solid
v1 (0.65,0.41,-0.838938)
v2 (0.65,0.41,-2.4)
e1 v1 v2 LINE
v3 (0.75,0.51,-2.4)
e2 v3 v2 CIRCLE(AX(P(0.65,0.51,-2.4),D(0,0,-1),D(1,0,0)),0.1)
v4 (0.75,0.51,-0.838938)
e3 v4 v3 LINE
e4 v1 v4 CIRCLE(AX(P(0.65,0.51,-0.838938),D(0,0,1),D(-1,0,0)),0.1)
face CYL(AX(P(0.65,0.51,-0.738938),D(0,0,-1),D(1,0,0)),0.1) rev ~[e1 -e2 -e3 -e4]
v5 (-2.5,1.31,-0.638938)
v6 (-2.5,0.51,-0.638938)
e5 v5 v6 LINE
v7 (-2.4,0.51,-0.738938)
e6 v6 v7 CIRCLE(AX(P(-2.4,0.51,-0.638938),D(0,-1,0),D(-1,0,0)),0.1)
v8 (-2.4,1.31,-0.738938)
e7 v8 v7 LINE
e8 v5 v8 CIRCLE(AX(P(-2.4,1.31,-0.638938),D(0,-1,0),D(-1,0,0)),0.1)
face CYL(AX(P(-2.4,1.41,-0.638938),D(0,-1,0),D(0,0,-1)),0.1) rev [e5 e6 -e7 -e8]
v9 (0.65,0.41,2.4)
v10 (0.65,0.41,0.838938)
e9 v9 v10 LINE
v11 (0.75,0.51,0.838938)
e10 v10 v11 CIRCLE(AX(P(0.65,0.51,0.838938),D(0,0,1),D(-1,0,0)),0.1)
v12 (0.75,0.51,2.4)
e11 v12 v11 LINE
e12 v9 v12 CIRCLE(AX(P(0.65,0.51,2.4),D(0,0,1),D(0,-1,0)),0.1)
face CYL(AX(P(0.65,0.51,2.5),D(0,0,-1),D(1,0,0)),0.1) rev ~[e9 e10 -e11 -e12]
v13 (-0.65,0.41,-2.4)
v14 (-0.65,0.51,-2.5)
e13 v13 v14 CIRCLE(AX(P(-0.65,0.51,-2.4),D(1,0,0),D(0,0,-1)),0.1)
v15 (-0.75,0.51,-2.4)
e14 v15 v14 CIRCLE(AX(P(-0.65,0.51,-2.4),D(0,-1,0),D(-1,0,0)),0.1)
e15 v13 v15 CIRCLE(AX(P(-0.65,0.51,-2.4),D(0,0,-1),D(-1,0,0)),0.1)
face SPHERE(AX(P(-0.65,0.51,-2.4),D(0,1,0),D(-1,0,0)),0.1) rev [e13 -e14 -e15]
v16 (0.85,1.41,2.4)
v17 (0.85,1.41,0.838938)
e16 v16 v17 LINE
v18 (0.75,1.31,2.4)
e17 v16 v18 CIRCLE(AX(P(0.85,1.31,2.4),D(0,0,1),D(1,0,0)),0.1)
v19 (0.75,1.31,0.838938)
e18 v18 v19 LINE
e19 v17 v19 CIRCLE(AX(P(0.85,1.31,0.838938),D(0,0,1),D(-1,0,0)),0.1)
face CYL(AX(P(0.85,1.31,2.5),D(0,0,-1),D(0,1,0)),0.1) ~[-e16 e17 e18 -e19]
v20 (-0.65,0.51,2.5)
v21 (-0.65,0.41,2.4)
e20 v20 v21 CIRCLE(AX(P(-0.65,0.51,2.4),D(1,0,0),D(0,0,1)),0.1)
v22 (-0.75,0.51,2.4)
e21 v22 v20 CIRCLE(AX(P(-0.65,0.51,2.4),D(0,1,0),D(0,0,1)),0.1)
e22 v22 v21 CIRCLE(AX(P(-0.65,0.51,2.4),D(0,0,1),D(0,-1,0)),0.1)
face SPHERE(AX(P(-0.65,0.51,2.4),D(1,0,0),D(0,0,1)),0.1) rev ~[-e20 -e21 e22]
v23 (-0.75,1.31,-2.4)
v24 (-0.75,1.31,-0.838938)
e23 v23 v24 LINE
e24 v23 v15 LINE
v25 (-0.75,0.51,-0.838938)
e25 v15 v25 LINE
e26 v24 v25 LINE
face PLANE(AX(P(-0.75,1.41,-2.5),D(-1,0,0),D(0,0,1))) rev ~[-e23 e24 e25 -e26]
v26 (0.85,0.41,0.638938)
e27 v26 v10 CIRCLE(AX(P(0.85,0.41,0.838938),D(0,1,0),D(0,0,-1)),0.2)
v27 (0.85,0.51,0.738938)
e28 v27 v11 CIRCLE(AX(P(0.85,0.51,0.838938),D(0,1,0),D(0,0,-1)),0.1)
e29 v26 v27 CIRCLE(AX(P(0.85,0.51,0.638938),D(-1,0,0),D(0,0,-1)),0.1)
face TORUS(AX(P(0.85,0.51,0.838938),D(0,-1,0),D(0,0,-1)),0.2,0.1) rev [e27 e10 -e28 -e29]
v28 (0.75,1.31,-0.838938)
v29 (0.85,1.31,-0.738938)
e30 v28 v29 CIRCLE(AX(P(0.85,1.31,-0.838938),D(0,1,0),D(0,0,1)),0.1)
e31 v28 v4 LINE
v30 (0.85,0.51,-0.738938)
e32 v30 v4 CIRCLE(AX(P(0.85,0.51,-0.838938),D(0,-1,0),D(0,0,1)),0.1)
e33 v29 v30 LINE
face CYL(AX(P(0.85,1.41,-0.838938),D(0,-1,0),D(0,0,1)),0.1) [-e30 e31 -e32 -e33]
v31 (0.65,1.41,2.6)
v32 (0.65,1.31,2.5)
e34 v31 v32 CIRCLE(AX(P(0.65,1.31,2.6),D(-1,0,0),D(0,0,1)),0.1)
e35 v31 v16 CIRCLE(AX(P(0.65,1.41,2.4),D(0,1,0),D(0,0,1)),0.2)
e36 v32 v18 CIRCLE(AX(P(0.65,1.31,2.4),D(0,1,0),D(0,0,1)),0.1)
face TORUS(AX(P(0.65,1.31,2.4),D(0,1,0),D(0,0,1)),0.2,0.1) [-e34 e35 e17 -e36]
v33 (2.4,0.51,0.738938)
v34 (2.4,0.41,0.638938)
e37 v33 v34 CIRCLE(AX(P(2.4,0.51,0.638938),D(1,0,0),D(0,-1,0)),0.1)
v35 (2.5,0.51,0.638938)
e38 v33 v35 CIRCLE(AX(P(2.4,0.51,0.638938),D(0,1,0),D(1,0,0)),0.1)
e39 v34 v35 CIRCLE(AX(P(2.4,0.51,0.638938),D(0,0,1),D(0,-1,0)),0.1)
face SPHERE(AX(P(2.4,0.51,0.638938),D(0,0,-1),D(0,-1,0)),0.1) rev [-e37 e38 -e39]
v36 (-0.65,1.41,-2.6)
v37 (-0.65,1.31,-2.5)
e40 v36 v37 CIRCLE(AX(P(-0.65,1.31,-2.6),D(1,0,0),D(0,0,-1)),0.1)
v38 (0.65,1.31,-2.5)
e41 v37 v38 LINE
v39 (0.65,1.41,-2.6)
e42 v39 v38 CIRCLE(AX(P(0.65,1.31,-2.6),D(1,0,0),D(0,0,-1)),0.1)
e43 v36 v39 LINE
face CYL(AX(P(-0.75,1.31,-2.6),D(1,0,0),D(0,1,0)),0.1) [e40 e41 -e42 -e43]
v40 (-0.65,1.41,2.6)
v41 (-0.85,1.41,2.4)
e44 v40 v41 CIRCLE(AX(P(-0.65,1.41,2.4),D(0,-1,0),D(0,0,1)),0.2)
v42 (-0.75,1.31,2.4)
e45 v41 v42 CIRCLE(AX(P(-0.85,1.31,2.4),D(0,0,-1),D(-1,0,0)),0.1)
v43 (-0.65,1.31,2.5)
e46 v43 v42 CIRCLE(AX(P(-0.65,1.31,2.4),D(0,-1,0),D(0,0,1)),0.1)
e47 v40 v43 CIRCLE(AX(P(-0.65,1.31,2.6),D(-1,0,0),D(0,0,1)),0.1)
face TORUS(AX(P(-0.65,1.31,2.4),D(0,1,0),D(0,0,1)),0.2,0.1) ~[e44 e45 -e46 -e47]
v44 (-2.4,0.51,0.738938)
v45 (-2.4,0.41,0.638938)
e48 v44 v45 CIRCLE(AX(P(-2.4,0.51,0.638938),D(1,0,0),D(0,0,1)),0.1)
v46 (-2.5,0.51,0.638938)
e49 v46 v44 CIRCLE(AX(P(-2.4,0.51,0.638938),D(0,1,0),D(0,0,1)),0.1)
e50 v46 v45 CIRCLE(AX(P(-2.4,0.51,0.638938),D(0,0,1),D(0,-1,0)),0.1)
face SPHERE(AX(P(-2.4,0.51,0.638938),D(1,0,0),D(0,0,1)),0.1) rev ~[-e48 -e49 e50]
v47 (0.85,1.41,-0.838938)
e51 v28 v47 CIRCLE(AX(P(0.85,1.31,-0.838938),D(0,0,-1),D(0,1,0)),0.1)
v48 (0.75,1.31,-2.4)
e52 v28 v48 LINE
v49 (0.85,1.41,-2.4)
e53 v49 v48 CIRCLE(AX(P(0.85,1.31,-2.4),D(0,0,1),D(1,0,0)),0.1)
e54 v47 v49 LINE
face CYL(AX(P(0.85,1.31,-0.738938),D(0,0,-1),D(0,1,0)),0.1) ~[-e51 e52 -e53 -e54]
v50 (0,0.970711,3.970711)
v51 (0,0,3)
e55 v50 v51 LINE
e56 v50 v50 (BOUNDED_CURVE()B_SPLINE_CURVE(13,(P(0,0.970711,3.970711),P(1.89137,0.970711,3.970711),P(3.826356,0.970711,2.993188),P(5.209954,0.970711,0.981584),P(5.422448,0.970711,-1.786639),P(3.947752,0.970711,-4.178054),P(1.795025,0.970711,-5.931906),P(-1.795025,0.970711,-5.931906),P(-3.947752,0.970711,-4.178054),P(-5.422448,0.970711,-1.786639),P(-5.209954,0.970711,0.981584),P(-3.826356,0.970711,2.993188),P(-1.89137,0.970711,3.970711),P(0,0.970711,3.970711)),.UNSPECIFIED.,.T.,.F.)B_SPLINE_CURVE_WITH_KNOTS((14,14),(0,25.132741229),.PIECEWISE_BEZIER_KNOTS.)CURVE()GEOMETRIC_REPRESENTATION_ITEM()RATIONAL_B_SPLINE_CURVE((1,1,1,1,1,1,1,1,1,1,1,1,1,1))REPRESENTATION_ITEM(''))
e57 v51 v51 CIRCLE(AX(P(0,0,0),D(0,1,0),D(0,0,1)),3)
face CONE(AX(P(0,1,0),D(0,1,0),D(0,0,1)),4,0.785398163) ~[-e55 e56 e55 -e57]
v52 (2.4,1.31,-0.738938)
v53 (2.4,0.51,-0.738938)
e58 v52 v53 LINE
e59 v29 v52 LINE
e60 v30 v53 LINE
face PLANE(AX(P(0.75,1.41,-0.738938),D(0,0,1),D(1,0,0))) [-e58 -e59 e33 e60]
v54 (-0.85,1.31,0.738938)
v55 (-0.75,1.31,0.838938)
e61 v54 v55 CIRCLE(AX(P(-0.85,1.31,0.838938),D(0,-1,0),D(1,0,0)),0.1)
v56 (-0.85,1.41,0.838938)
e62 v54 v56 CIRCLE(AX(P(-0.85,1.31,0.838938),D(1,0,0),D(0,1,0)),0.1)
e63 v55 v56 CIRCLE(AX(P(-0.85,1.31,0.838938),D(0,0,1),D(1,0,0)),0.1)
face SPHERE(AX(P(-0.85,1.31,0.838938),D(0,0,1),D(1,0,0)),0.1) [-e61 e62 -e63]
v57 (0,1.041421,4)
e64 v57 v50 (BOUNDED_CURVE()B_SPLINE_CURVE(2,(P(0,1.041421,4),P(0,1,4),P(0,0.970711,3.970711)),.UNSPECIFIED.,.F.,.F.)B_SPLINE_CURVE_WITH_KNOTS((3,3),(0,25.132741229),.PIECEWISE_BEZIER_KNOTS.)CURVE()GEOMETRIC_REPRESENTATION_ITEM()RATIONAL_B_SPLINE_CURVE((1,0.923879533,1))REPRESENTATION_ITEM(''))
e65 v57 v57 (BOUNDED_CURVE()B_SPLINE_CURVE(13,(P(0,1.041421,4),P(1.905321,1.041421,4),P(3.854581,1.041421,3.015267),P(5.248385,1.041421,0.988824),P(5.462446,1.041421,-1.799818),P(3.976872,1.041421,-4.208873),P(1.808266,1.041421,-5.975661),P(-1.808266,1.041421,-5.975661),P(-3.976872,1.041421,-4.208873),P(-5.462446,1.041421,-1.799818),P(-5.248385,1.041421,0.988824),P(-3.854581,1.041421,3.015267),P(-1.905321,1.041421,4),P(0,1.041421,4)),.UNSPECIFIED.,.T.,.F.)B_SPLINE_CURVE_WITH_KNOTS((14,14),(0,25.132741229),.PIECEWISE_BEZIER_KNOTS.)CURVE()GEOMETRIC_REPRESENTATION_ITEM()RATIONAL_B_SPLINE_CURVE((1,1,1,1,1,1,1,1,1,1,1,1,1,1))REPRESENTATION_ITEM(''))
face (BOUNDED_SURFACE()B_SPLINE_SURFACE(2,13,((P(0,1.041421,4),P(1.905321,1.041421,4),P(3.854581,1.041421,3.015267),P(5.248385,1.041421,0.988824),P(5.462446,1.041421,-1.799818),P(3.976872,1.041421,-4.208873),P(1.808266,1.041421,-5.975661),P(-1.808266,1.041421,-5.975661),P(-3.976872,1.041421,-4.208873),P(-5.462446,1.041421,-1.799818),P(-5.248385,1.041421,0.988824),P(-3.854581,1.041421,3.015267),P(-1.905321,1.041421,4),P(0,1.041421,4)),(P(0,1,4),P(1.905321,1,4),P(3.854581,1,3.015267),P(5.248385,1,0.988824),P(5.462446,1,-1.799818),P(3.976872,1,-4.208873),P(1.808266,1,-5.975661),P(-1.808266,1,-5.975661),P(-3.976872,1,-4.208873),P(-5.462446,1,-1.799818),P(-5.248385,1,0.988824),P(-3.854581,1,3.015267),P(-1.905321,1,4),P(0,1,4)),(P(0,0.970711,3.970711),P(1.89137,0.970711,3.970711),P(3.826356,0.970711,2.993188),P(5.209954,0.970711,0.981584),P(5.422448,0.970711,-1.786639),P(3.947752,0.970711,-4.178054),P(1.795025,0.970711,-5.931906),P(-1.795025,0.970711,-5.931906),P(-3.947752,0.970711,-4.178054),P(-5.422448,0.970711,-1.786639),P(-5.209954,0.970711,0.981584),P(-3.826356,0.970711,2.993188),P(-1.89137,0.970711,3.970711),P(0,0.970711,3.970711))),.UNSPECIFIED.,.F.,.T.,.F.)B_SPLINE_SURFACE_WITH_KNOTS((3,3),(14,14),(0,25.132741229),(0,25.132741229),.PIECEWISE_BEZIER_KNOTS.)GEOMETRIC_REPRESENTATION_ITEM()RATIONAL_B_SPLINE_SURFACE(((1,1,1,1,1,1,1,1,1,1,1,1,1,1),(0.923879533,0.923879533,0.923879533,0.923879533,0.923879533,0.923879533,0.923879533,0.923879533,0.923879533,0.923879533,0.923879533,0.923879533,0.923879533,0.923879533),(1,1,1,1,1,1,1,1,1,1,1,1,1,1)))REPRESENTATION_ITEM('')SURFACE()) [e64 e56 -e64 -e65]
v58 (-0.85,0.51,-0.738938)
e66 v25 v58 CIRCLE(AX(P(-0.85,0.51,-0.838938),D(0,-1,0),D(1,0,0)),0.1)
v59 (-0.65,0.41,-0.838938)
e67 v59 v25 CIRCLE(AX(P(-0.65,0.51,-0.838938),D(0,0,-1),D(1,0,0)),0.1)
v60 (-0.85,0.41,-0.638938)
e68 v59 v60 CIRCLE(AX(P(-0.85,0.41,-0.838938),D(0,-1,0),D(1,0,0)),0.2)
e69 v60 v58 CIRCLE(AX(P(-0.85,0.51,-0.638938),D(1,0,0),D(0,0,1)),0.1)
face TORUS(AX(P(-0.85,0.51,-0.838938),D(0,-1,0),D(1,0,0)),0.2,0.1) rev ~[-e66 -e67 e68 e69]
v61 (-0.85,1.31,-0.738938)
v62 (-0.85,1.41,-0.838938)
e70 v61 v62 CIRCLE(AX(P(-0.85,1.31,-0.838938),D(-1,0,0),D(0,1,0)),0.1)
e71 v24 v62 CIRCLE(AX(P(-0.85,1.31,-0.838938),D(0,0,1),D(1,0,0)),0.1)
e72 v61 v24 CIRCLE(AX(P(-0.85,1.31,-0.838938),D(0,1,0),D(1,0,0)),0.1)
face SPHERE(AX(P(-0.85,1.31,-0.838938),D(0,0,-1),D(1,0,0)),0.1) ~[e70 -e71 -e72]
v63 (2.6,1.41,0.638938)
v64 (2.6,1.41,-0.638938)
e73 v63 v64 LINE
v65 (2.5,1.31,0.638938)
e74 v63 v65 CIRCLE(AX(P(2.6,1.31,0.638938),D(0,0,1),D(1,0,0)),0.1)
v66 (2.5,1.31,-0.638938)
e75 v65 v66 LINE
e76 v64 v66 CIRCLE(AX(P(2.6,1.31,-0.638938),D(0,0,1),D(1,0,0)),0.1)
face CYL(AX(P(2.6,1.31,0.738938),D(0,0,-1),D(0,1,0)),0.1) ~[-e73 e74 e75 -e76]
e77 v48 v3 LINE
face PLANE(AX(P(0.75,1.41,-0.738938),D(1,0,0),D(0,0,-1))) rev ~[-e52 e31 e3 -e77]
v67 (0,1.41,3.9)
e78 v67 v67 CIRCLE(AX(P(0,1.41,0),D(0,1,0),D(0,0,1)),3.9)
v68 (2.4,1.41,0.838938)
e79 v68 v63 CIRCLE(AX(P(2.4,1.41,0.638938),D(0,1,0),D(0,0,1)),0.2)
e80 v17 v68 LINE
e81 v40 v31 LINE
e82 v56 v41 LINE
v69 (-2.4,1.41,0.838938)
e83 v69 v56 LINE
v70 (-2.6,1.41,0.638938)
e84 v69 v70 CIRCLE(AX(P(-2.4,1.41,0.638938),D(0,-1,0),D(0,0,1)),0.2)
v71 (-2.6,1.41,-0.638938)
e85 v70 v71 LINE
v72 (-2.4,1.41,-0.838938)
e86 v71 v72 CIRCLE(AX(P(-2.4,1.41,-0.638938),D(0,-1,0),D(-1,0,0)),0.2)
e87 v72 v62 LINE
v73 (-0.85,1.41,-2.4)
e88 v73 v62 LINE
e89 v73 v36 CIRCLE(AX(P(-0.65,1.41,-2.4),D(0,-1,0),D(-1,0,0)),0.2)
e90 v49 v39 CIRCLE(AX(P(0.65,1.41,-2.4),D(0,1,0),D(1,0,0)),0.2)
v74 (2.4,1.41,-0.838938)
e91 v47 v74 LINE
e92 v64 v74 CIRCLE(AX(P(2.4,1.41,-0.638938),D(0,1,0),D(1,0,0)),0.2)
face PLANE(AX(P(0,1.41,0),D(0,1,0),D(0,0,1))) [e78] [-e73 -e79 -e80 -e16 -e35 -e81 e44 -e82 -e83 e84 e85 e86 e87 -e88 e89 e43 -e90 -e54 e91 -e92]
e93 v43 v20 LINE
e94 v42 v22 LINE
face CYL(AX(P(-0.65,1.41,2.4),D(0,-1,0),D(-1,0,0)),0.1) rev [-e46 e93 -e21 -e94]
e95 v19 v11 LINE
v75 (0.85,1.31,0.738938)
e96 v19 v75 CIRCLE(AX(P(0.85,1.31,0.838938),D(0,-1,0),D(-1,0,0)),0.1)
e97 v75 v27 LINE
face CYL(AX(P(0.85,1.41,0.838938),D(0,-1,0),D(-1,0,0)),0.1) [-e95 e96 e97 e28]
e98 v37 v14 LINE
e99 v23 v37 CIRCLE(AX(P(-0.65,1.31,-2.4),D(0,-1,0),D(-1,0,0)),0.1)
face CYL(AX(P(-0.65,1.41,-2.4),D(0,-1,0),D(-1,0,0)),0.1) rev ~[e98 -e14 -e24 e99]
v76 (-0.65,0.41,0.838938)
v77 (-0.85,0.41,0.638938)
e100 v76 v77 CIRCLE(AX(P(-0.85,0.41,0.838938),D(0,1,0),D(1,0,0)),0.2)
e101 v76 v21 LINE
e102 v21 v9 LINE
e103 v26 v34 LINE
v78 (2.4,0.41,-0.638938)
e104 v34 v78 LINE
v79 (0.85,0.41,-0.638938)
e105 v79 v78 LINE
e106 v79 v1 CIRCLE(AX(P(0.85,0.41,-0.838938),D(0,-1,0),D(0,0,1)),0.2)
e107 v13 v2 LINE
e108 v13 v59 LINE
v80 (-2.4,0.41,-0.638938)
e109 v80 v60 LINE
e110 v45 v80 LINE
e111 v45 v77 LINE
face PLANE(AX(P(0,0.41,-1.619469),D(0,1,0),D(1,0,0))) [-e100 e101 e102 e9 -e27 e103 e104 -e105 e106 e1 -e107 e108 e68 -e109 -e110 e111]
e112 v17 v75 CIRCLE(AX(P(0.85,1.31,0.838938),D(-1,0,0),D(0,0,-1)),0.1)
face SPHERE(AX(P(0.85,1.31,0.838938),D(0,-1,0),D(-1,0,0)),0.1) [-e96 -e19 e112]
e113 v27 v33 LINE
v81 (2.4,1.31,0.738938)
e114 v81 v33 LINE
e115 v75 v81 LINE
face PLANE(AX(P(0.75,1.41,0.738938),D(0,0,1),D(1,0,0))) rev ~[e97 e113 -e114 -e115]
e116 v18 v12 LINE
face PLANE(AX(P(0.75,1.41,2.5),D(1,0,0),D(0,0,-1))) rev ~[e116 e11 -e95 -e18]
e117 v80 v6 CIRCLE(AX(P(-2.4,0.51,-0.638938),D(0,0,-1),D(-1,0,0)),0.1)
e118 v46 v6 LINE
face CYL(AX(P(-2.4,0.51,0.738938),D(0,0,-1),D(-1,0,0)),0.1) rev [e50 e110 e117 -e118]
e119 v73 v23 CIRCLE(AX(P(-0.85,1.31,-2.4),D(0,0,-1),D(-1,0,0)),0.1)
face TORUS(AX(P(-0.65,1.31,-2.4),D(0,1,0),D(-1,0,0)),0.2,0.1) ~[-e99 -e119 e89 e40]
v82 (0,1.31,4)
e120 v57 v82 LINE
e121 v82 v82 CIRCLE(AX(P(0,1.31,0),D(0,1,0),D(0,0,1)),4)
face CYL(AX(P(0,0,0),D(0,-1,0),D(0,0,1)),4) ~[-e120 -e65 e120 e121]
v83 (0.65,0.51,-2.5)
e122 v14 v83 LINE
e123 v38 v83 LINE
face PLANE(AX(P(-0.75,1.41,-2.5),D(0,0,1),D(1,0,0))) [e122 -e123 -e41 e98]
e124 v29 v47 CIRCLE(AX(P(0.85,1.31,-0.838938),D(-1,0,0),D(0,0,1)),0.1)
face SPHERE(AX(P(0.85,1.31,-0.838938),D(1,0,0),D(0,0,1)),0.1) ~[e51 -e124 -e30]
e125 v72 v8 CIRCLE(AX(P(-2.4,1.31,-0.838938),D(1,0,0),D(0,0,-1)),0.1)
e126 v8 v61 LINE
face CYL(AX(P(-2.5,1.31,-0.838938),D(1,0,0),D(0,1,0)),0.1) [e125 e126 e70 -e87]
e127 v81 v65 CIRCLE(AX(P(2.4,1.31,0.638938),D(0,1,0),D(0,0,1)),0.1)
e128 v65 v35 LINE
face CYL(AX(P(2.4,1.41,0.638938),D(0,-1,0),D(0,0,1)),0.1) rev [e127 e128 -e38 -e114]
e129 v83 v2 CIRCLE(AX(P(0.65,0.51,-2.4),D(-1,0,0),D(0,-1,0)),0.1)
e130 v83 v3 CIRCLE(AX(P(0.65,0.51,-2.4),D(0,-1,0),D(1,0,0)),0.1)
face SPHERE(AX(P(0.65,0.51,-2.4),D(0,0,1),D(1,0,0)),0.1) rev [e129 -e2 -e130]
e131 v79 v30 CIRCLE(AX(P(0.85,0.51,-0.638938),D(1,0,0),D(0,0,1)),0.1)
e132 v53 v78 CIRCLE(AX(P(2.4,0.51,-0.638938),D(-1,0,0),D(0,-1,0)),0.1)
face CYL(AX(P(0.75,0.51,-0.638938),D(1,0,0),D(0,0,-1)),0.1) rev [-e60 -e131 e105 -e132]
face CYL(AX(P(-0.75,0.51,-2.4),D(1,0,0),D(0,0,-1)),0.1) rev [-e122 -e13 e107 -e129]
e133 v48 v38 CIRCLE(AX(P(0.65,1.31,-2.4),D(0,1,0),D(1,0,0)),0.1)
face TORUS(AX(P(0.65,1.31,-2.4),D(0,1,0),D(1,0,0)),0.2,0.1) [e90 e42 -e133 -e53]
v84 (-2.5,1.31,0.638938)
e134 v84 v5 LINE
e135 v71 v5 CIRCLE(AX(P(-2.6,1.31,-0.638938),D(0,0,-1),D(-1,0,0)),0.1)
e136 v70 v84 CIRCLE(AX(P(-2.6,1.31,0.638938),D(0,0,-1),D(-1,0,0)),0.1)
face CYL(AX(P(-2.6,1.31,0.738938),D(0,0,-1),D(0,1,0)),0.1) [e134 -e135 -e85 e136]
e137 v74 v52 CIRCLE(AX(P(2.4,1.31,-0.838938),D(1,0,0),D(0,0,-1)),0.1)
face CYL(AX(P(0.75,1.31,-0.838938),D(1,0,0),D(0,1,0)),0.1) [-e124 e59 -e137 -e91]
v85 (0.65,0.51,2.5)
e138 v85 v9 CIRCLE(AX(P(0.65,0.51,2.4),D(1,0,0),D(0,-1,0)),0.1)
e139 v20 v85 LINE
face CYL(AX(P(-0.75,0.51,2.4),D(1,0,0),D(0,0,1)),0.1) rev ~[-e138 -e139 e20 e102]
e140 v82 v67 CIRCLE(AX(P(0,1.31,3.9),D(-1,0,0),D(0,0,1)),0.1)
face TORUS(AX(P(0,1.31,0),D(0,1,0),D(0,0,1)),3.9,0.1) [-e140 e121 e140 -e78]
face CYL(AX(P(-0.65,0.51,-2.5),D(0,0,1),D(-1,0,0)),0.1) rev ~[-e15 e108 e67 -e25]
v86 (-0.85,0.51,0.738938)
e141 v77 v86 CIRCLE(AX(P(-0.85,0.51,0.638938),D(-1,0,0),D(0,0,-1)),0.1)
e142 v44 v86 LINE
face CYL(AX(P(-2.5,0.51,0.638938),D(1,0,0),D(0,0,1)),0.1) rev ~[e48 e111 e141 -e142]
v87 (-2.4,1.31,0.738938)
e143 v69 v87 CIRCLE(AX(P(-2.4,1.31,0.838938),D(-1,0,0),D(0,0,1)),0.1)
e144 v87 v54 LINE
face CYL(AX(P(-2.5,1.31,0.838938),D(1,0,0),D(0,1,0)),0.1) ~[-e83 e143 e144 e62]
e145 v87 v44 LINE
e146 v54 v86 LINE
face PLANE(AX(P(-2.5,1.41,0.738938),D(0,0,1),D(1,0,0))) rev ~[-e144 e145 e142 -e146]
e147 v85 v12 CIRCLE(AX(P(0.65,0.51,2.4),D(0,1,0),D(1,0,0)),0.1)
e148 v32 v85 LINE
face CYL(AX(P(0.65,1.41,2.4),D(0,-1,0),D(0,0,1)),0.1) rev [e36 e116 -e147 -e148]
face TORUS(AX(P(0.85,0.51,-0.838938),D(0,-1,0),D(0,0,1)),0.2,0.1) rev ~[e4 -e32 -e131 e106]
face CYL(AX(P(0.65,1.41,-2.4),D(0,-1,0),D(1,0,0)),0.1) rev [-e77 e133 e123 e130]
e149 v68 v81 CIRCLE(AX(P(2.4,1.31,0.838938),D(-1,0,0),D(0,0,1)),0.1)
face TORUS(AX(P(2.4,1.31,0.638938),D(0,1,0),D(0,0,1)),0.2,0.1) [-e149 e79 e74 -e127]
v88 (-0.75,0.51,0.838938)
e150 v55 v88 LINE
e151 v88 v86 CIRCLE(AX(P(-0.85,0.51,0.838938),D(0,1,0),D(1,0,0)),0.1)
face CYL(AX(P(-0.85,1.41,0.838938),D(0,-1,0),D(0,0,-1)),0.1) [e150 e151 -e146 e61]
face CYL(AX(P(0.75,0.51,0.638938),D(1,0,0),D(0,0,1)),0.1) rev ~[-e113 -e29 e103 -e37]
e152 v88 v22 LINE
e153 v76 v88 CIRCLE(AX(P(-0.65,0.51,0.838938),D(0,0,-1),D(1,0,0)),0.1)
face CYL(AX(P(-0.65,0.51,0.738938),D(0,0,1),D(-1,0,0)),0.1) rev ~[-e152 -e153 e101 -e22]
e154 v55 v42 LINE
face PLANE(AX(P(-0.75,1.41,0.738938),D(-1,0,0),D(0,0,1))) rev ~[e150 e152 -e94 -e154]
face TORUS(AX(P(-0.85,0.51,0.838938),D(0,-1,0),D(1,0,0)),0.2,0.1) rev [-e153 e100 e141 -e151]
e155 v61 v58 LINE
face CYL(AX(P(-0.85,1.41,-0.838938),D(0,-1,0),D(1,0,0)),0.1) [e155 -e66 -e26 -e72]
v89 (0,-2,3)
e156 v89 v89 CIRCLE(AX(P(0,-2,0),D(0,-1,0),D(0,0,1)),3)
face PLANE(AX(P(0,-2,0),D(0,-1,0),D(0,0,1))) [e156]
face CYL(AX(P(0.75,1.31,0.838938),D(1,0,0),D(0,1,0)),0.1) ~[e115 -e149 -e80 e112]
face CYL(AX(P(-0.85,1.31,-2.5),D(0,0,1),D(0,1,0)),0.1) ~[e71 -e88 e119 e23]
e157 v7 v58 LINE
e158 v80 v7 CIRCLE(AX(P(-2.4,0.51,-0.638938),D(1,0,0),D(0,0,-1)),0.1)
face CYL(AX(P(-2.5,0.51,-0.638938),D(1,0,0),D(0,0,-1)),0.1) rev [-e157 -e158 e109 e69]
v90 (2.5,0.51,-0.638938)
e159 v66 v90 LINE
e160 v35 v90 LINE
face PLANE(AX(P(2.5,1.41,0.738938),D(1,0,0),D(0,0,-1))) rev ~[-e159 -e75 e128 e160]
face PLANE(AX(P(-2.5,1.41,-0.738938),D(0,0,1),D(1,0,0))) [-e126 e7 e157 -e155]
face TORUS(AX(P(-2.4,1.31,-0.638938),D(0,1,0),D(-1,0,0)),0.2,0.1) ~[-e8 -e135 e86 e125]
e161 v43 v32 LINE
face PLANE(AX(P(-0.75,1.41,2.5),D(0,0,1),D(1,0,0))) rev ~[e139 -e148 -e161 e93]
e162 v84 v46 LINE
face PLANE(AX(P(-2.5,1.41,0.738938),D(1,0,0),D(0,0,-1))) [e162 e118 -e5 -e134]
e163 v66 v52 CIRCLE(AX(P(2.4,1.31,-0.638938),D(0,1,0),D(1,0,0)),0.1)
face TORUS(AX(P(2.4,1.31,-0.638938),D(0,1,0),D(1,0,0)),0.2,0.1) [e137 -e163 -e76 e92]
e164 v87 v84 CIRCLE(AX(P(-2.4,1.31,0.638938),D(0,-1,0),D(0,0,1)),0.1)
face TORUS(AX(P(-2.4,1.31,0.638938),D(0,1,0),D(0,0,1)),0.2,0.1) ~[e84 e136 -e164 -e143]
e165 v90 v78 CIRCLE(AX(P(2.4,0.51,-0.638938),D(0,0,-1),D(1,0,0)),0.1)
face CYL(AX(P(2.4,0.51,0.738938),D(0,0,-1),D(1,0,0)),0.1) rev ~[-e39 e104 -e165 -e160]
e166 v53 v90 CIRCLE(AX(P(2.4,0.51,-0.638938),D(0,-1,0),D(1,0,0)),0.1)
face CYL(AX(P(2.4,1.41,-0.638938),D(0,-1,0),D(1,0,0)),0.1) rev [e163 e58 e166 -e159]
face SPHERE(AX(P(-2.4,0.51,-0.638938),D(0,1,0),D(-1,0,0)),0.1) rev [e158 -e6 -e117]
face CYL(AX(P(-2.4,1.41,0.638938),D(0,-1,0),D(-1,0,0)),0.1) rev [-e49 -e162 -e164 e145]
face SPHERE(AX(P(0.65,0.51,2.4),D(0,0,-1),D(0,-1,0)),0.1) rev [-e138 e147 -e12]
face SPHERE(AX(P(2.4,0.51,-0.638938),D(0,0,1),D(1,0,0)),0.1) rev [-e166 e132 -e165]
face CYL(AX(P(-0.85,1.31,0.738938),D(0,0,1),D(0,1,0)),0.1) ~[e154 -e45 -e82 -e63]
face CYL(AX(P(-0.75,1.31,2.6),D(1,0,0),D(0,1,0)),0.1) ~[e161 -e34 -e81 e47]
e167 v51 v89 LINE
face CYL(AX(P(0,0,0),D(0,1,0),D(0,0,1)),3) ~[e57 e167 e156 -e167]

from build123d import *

# Parameters (mm, degrees)
SKETCH1_R           = 4
BOSS_EXTRUDE1_DEPTH = 1.41
CHAMFER2_SIZE       = 1
SKETCH2_R           = 3
BOSS_EXTRUDE2_DEPTH = 2
SKETCH4_W           = 1.5
SKETCH4_H           = 1.761062171
SKETCH4_H_2         = 1.477875658
SKETCH4_W_2         = 1.75
CUT_EXTRUDE1_DEPTH  = 1
FILLET2_R           = 0.1
FILLET3_R           = 0.1


with BuildPart() as part:
    # Sketch1 → Boss-Extrude1 (new body)
    with BuildSketch(Plane(origin=(0, 0, 0), x_dir=(1, 0, 0), z_dir=(0, 1, 0))):
        with Locations(Location((0, 0, 0), (0, 0, 270))):
            Circle(SKETCH1_R)
    extrude(amount=BOSS_EXTRUDE1_DEPTH)

    # Chamfer2
    chamfer2_edges = [part.edges().sort_by_distance(p)[0] for p in [
        (0, 0, -4),
    ]]
    chamfer(chamfer2_edges, length=CHAMFER2_SIZE)

    # Sketch2 → Boss-Extrude2 (add)
    with BuildSketch(Plane.XZ):
        with Locations(Location((0, 0, 0), (0, 0, 90))):
            Circle(SKETCH2_R)
    extrude(amount=BOSS_EXTRUDE2_DEPTH)

    # Sketch4 → Cut-Extrude1 (cut)
    with BuildSketch(Plane(origin=(0, 1.41, 0), x_dir=(1, 0, 0), z_dir=(0, 1, 0))):
        with Locations((0, 1.619468915)):
            Rectangle(SKETCH4_W, SKETCH4_H)
        Rectangle(SKETCH4_W, SKETCH4_H_2)
        with Locations((0, -1.619468915)):
            Rectangle(SKETCH4_W, SKETCH4_H)
        with Locations((-1.625, 0)):
            Rectangle(SKETCH4_W_2, SKETCH4_H_2)
        with Locations((1.625, 0)):
            Rectangle(SKETCH4_W_2, SKETCH4_H_2)
    extrude(amount=-CUT_EXTRUDE1_DEPTH, mode=Mode.SUBTRACT)

    # Fillet2
    fillet2_edges = [part.edges().sort_by_distance(p)[0] for p in [
        (-0.75, 1.41, -1.619468914),
        (-0.75, 0.91, -0.738937829),
        (0, 1.41, -2.5),
        (-0.75, 0.91, -2.5),
        (0.75, 0.41, -1.619468914),
        (0.75, 0.91, -2.5),
        (1.625, 1.41, -0.738937829),
        (0.75, 0.91, -0.738937829),
        (2.5, 0.41, 0),
        (2.5, 0.91, -0.738937829),
        (1.625, 0.41, 0.738937829),
        (2.5, 0.91, 0.738937829),
        (0.75, 0.41, 1.619468914),
        (0.75, 0.91, 0.738937829),
        (0, 0.41, 2.5),
        (0.75, 0.91, 2.5),
        (-0.75, 1.41, 1.619468914),
        (-0.75, 0.91, 2.5),
        (-1.625, 0.41, 0.738937829),
        (-0.75, 0.91, 0.738937829),
        (-2.5, 1.41, 0),
        (-2.5, 0.91, 0.738937829),
        (-1.625, 1.41, -0.738937829),
        (-2.5, 0.91, -0.738937829),
        (-0.75, 0.41, -1.619468914),
        (0, 0.41, -2.5),
        (1.625, 0.41, -0.738937829),
        (-0.75, 0.41, 1.619468914),
        (-2.5, 0.41, 0),
        (-1.625, 0.41, -0.738937829),
        (-1.625, 1.41, 0.738937829),
        (0, 1.41, 2.5),
        (0.75, 1.41, 1.619468914),
        (1.625, 1.41, 0.738937829),
        (2.5, 1.41, 0),
        (0.75, 1.41, -1.619468914),
        (0, 1.41, -4),
    ]]
    fillet(fillet2_edges, radius=FILLET2_R)

    # Fillet3
    fillet3_edges = [part.edges().sort_by_distance(p)[0] for p in [
        (0, 1, -4),
    ]]
    fillet(fillet3_edges, radius=FILLET3_R)


solid = part.part
